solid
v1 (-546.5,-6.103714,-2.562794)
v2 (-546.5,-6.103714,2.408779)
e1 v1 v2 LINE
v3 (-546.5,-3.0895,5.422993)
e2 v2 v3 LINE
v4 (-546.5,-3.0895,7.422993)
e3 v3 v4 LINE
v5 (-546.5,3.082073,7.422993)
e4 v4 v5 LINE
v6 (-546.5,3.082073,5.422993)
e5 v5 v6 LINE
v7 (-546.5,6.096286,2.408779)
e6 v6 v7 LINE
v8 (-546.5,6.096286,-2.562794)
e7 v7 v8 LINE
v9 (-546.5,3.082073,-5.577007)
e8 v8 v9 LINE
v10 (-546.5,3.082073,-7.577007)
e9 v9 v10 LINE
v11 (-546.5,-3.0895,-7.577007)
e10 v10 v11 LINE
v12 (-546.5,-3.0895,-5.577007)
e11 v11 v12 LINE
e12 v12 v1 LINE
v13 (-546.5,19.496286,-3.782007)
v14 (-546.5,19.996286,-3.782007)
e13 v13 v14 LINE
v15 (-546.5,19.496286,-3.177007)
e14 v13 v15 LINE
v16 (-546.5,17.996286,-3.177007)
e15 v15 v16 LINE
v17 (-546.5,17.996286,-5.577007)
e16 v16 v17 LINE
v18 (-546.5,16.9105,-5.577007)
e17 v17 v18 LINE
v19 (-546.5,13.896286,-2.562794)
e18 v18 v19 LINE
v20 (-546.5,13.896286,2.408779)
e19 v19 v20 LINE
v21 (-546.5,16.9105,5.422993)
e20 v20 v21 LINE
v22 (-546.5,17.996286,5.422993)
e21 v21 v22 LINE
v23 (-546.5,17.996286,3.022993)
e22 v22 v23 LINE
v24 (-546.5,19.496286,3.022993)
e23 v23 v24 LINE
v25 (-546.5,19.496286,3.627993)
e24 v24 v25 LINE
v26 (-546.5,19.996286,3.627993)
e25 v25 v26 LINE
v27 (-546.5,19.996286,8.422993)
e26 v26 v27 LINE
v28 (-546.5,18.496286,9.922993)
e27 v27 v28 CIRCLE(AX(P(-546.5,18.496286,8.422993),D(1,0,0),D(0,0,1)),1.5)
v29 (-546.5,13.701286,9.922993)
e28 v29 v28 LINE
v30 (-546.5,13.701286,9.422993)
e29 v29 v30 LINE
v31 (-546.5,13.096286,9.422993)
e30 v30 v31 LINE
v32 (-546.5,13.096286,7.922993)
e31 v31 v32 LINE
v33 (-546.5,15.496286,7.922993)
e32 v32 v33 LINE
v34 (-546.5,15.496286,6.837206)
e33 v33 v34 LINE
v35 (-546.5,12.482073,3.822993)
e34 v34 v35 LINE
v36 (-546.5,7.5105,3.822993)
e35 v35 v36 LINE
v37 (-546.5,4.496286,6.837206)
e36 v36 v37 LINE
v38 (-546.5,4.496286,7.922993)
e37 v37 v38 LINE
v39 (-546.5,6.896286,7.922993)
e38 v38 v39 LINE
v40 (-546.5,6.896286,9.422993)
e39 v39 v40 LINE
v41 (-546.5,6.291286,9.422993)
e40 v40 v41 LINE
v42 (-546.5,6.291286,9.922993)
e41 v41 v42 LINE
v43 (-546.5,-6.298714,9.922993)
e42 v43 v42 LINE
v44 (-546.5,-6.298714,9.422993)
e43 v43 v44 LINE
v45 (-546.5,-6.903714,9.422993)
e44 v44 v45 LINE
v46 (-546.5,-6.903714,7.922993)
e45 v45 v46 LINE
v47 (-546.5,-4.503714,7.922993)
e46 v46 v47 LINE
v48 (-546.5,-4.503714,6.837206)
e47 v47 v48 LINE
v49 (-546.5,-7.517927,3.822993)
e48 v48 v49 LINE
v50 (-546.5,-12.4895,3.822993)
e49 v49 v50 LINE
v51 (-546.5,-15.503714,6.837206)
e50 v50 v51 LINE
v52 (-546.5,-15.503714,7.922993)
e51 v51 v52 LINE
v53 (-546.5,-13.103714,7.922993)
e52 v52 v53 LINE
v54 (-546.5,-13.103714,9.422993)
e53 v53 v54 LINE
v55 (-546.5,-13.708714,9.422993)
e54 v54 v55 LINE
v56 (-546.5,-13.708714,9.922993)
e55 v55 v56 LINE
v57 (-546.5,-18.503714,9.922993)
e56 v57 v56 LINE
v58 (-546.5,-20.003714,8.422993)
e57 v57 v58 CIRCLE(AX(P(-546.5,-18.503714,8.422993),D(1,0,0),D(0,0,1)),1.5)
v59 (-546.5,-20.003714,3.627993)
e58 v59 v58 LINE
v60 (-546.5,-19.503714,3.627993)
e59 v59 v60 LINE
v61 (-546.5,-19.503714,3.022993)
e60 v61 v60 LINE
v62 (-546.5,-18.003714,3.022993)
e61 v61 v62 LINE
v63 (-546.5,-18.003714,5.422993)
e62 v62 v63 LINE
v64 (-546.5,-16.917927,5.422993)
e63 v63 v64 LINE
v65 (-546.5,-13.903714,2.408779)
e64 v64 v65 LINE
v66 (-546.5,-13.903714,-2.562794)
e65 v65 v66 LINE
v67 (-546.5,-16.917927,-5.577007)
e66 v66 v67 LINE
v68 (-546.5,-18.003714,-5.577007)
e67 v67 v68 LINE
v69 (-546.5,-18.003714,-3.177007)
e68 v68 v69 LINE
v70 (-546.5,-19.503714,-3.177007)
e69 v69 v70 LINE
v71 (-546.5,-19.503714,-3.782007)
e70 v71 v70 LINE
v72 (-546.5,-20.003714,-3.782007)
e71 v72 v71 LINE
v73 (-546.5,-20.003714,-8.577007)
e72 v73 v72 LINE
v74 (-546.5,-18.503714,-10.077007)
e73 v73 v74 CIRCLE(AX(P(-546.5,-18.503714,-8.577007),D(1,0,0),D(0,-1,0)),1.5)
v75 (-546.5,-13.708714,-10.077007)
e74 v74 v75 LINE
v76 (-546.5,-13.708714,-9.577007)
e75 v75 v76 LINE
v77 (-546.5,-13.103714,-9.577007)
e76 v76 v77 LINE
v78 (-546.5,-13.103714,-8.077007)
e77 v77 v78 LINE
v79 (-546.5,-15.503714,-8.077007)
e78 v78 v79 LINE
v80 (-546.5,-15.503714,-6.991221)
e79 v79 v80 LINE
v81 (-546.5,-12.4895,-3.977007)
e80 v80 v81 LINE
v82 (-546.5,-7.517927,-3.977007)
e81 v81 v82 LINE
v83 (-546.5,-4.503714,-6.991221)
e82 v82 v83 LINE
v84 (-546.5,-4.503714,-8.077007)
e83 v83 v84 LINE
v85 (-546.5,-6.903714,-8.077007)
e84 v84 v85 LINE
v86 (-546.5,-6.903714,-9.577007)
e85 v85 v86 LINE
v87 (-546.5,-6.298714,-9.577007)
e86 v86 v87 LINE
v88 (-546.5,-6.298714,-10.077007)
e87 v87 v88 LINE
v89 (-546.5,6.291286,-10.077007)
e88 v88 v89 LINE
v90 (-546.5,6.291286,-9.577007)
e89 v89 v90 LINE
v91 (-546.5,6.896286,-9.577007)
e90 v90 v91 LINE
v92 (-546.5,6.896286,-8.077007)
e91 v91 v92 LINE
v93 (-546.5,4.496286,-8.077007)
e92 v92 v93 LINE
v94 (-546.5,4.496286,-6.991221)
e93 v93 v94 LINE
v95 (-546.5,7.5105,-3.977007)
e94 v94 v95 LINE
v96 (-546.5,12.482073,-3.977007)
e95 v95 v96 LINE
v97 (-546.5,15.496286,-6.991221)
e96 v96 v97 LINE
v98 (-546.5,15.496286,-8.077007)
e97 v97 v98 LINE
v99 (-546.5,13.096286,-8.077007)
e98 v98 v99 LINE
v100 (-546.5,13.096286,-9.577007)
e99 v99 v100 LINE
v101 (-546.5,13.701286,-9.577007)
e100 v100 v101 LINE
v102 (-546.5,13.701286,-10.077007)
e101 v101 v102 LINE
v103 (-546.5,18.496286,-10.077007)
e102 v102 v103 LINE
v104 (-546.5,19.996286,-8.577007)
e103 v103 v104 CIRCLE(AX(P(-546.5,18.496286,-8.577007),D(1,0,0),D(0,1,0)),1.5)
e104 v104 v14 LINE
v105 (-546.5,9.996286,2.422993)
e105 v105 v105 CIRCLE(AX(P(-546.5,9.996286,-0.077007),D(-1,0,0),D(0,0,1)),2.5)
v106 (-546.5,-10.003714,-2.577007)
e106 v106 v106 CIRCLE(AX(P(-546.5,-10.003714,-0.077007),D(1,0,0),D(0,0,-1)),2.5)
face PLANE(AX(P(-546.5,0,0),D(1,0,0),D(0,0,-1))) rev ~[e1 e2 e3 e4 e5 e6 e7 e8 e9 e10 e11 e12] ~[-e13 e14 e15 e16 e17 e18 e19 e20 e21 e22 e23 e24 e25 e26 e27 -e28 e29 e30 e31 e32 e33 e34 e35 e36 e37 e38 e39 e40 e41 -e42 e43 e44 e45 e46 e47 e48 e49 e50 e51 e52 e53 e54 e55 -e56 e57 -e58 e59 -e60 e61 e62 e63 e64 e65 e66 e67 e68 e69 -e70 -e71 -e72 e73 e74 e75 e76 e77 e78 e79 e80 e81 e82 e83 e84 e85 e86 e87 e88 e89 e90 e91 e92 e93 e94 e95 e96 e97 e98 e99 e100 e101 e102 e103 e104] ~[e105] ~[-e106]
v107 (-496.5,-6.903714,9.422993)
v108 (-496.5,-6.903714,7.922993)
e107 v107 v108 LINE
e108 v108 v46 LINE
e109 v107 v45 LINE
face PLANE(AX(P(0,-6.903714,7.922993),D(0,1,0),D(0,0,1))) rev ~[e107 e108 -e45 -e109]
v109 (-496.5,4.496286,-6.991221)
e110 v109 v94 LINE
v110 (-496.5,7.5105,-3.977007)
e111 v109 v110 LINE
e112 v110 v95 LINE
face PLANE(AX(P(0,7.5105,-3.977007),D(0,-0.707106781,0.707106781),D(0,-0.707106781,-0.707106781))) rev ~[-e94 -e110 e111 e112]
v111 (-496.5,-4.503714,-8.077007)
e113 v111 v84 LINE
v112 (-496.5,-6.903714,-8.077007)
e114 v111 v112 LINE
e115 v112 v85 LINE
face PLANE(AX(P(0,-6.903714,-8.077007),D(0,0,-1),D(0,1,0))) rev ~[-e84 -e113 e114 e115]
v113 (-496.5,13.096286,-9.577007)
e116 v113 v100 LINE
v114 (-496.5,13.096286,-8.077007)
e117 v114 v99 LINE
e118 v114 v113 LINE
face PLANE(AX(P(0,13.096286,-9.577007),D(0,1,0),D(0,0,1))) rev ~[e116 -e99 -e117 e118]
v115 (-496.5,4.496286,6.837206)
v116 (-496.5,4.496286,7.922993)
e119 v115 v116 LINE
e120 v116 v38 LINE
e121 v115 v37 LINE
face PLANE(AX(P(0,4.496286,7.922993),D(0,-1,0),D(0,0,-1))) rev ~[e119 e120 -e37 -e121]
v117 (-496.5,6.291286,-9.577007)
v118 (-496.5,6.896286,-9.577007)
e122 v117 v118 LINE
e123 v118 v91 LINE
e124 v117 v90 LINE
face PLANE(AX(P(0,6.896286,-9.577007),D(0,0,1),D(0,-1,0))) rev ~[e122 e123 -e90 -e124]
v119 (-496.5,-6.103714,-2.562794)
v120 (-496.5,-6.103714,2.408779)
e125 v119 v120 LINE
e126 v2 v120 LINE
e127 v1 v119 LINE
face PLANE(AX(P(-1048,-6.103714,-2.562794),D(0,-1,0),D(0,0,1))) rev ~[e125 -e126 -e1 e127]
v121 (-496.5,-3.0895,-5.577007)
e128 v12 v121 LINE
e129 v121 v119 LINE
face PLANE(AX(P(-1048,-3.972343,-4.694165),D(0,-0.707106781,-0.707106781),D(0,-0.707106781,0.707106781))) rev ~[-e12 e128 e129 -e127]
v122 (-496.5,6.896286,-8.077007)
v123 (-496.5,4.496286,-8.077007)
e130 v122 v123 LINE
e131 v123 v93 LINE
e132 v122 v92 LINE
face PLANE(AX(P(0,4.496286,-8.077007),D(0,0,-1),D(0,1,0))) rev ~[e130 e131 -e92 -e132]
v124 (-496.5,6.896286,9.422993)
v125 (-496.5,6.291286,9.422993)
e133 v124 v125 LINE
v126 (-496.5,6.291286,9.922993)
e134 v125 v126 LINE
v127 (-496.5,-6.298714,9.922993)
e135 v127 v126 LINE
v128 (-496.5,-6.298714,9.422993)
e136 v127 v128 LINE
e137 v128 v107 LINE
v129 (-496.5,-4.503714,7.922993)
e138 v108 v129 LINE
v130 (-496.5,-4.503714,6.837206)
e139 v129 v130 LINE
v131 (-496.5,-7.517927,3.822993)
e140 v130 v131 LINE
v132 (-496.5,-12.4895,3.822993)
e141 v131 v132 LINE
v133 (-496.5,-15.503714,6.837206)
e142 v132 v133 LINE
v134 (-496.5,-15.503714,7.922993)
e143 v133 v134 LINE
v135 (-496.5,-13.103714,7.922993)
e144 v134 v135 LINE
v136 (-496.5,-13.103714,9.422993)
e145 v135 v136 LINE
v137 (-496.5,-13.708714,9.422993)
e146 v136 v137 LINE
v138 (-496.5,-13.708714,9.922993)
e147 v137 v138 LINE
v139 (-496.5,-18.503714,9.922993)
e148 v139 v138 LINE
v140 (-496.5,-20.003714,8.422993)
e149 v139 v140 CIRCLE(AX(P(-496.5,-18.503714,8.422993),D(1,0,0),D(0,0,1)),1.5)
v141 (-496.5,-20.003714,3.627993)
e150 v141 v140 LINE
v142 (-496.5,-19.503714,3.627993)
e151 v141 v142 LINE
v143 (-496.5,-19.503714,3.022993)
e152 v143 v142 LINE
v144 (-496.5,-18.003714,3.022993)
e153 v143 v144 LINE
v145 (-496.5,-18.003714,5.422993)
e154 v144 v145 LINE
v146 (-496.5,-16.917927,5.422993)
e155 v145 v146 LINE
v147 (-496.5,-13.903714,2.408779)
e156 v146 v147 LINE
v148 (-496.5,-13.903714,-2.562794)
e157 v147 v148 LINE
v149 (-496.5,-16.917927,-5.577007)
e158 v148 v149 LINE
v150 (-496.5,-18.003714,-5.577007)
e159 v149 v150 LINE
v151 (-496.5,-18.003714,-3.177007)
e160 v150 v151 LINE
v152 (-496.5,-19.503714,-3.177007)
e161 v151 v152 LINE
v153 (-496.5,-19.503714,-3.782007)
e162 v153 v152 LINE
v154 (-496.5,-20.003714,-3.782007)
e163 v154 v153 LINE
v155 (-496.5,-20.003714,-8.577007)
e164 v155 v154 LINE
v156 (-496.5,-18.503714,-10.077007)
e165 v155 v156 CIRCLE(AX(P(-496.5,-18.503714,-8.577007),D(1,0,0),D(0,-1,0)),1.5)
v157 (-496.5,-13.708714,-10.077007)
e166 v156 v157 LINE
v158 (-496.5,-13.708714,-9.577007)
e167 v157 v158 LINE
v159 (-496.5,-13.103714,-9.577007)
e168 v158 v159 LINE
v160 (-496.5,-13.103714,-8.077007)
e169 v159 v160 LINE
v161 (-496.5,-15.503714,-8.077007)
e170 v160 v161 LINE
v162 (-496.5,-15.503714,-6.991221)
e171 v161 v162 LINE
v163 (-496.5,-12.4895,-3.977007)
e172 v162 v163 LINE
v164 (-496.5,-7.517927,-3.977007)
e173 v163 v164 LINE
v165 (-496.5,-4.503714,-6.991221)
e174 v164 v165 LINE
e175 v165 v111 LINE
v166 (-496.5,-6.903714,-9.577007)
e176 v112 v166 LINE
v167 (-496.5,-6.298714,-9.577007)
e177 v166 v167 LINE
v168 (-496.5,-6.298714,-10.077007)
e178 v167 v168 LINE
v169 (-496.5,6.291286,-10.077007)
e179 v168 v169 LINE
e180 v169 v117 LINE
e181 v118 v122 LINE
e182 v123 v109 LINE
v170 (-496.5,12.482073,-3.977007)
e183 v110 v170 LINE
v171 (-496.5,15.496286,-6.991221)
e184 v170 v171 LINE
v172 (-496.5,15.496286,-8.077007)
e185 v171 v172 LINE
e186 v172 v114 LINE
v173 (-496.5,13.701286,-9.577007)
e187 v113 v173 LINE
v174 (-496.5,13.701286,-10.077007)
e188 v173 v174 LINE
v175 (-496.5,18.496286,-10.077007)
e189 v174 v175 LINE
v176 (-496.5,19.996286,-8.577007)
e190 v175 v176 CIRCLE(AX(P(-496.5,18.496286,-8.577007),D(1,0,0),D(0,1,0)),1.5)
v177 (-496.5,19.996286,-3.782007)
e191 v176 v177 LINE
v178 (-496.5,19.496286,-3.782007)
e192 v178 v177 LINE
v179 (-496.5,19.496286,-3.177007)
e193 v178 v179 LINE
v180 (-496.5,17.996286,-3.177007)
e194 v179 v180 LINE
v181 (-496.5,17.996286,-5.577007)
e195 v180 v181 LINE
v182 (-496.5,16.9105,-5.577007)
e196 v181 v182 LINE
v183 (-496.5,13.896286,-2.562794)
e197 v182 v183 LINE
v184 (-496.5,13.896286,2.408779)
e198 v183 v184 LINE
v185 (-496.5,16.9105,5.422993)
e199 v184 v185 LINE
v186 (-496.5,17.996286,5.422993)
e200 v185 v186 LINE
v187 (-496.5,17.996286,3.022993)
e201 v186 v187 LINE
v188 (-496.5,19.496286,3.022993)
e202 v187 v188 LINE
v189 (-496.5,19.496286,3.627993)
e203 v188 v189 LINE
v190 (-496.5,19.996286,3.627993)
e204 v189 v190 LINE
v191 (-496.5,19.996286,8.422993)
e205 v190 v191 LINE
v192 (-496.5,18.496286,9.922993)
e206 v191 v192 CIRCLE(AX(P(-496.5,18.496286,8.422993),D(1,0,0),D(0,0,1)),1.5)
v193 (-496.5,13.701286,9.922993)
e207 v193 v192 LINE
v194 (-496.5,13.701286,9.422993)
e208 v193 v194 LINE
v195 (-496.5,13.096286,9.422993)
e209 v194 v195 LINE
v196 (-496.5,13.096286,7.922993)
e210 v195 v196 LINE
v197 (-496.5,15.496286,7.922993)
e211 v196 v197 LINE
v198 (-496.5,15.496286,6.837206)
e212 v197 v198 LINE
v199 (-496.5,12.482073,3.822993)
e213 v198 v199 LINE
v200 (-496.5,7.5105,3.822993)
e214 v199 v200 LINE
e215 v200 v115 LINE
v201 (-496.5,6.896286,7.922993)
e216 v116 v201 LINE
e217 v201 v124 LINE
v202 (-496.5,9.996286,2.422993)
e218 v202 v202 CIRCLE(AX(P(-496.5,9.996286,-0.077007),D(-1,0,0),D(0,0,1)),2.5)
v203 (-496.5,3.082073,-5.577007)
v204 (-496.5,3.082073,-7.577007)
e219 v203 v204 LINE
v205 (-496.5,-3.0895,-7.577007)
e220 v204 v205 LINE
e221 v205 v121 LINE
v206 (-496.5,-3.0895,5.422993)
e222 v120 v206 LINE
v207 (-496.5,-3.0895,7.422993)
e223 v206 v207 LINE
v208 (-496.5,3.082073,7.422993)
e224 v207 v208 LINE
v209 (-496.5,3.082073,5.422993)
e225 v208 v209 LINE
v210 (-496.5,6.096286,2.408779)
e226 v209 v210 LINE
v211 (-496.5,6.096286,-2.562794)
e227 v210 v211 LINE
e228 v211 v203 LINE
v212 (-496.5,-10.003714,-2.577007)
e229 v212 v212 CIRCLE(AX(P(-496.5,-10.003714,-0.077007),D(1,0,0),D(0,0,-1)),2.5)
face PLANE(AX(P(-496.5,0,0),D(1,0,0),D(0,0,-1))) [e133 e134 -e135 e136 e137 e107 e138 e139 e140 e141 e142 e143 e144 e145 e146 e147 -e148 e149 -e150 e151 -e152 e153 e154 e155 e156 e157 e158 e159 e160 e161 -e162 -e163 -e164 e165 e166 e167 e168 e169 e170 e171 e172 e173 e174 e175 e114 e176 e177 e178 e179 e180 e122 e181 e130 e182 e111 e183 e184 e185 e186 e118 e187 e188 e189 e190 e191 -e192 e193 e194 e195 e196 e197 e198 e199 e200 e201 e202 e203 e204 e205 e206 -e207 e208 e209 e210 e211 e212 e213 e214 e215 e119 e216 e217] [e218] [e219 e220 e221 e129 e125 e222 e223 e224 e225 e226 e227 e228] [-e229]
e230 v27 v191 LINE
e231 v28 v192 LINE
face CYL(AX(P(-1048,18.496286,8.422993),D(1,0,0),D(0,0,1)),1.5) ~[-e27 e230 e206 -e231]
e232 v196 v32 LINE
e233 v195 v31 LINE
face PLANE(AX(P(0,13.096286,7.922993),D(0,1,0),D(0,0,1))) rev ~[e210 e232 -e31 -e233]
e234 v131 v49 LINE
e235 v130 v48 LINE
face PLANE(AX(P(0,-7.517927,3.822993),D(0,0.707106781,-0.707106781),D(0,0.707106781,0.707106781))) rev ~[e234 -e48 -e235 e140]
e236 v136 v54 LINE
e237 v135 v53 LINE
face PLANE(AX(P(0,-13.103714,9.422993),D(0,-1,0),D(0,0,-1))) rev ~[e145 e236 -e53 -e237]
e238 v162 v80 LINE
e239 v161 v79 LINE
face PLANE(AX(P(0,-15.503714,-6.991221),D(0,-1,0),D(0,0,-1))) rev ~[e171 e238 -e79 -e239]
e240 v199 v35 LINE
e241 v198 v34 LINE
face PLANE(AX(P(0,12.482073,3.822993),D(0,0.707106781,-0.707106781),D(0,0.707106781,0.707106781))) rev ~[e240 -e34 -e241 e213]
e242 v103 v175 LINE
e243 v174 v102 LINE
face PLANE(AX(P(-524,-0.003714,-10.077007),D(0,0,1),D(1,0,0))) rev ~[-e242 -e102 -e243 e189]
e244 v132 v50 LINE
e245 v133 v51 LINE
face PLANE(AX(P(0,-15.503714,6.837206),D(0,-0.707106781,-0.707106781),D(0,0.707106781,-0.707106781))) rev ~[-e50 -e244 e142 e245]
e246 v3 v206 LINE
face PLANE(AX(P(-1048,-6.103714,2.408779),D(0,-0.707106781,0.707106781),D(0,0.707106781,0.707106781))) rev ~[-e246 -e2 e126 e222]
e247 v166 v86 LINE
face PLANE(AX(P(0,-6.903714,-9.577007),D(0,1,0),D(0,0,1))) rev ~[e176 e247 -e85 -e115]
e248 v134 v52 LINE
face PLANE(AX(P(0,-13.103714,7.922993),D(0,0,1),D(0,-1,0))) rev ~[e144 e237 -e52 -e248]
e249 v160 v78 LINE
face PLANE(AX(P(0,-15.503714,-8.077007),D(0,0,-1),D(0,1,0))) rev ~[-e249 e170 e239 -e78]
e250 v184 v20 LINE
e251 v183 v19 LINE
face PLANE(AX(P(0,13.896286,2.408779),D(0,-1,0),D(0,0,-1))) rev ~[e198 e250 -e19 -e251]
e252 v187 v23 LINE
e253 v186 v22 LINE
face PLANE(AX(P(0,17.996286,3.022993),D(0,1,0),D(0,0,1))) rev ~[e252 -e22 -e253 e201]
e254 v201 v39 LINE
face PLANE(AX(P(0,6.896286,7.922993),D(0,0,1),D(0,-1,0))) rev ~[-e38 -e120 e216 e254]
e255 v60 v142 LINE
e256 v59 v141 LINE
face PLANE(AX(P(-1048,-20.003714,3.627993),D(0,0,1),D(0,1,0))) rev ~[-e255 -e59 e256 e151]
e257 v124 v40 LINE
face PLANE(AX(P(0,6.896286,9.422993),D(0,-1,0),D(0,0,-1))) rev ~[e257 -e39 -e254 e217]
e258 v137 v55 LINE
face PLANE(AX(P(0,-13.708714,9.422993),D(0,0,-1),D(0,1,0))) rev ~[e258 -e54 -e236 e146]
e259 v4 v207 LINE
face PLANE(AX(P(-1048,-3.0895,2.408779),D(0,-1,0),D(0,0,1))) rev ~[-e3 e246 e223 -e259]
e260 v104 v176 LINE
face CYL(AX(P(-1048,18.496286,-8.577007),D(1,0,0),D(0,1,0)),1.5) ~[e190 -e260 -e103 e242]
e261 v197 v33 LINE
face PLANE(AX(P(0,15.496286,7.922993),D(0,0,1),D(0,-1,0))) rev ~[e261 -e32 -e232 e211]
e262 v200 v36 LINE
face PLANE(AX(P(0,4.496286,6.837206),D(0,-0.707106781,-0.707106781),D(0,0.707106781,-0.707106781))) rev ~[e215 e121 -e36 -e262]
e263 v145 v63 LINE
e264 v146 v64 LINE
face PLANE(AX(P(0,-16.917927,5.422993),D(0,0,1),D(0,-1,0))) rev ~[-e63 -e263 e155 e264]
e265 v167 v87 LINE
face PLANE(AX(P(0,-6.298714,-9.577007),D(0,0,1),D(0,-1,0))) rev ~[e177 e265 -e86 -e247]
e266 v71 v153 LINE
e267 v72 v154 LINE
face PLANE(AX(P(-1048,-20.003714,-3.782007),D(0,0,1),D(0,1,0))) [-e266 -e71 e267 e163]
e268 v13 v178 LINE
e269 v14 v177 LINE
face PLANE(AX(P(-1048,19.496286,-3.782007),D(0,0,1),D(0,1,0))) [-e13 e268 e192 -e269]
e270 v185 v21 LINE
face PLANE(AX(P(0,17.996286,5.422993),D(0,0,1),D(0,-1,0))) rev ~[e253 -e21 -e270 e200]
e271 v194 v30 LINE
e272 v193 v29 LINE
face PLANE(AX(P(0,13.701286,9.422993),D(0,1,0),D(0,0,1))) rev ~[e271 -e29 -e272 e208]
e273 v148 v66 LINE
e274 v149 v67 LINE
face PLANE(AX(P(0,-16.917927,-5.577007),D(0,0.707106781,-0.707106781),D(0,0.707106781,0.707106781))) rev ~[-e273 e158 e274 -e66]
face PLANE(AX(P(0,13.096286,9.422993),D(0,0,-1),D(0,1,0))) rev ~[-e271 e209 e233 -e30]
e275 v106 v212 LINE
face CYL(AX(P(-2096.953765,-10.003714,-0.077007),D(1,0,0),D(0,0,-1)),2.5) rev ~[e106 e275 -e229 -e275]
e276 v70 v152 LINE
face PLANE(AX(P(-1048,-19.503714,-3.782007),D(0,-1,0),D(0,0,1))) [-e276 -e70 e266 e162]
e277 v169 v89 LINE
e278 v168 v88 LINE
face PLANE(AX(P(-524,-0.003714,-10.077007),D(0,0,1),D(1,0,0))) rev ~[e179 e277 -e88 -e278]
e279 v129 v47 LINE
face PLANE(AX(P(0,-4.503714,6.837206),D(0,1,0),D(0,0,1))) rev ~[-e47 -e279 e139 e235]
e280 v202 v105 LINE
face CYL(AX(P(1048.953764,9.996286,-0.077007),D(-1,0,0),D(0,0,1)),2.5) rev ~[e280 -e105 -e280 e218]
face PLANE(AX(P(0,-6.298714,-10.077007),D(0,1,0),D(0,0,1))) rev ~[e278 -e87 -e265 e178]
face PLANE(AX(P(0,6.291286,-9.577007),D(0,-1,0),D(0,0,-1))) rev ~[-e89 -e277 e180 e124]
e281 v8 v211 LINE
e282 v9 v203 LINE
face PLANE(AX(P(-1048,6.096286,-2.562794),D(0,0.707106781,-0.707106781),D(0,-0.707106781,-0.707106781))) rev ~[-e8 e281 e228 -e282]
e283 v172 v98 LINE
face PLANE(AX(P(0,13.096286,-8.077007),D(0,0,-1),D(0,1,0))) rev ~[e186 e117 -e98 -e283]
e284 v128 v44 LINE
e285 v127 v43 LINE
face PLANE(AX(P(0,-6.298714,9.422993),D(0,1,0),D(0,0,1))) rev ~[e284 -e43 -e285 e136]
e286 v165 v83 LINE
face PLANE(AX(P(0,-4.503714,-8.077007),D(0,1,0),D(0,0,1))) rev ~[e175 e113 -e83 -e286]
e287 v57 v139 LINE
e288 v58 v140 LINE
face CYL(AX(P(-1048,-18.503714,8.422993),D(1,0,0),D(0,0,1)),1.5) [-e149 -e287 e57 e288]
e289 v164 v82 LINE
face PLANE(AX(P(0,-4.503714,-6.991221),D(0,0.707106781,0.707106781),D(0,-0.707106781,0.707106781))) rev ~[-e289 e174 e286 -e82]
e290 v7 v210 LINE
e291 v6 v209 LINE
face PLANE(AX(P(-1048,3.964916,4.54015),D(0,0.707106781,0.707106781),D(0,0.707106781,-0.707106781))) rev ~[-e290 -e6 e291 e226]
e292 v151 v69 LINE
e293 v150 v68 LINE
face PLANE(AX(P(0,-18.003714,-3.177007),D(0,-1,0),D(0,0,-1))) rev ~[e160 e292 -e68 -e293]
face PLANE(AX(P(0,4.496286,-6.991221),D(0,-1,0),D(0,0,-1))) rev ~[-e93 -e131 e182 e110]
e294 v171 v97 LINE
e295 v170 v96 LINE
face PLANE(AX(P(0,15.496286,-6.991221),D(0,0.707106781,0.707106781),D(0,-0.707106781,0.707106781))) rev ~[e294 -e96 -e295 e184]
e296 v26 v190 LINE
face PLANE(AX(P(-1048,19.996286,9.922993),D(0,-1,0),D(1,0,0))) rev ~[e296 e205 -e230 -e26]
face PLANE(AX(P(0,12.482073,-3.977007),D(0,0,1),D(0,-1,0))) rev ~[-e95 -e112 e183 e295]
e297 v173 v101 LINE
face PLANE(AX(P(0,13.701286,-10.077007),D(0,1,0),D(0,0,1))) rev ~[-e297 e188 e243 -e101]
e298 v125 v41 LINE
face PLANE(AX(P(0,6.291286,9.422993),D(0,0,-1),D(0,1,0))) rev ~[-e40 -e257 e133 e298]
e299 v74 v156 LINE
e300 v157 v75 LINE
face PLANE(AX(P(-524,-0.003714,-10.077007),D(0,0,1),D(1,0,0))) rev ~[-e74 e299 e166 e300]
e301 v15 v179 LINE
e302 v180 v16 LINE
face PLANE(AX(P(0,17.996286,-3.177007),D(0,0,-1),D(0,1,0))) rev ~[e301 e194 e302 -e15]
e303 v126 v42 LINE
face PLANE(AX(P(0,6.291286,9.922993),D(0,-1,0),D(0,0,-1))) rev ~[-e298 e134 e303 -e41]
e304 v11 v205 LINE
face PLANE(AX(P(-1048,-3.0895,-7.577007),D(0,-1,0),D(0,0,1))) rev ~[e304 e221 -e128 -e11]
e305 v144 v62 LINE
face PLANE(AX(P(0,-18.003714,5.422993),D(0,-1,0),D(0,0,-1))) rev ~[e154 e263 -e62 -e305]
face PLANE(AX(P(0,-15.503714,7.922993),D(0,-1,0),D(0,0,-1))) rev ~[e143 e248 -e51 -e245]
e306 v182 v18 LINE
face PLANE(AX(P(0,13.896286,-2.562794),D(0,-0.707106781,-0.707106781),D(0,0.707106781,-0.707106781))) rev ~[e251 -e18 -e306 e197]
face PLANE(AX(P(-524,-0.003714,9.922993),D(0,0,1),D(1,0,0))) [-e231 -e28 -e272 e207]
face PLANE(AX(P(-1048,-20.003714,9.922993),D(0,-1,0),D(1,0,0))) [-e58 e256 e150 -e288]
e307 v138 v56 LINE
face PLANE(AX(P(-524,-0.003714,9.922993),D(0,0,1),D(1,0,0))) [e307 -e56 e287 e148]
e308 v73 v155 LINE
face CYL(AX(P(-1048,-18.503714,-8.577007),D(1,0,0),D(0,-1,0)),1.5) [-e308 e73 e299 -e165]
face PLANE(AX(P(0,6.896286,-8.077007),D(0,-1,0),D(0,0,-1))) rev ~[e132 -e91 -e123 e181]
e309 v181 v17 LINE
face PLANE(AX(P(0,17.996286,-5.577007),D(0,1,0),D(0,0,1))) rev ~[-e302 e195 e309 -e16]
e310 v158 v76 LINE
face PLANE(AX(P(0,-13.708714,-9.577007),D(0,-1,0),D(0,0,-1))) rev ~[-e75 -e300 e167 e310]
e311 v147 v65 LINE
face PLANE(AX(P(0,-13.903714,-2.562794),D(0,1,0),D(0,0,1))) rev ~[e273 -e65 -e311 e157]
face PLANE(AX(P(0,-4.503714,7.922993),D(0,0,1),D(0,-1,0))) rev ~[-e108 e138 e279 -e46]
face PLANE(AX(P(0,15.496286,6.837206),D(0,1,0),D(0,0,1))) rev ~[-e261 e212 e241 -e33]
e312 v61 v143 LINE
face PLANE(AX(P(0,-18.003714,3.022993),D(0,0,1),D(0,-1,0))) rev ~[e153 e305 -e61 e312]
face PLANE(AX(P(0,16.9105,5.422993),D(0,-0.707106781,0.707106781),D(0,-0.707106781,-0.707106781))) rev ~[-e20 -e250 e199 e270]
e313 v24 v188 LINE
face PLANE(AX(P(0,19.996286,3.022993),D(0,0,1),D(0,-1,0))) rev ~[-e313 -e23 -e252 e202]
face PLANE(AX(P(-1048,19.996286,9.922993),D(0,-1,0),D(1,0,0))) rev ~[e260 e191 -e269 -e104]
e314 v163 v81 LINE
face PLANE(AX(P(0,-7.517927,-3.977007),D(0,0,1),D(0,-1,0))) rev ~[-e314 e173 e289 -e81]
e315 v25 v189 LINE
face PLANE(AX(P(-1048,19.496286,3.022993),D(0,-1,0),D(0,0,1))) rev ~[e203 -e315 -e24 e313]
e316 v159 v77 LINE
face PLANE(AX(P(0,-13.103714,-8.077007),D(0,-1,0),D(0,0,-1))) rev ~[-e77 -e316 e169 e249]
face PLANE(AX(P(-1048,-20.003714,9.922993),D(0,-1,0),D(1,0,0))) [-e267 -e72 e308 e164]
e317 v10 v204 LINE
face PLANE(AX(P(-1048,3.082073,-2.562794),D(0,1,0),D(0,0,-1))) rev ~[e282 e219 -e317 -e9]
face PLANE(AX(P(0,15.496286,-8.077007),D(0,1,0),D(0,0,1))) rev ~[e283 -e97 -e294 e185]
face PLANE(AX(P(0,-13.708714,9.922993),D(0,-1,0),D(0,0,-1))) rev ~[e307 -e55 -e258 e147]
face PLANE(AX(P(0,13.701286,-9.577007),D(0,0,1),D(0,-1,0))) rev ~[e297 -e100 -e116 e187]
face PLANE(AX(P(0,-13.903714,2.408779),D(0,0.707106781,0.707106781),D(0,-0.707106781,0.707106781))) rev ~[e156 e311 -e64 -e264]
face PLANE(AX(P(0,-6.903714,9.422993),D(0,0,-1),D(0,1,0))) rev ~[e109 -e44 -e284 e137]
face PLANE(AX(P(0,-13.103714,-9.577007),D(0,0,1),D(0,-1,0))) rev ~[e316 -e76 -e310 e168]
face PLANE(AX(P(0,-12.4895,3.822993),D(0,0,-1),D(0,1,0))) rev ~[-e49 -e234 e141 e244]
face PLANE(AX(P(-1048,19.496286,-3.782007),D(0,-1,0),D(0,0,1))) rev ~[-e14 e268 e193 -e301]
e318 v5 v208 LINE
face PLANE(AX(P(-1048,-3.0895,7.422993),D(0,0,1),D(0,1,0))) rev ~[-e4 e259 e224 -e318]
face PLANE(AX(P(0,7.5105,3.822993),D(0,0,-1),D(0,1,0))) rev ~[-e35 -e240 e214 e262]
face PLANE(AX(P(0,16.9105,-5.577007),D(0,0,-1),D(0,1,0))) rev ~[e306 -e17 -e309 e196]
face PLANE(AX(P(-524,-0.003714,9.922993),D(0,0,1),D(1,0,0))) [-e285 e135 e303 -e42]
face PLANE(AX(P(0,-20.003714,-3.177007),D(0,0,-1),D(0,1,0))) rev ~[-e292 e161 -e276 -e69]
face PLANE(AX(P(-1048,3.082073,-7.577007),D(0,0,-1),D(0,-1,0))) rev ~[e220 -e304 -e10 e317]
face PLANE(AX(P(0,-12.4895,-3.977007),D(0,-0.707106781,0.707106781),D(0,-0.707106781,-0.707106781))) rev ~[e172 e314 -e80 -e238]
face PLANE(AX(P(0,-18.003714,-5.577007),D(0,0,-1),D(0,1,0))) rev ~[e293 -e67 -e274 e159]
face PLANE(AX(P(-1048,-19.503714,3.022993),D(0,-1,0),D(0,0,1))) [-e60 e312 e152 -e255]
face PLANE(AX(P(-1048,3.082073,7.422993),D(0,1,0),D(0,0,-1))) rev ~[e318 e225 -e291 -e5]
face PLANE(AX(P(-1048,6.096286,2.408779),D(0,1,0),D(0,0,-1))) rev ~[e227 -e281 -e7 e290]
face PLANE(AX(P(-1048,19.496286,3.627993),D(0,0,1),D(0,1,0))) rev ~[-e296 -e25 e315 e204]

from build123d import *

# Parameters (mm, degrees)
SKETCH_1_W                = 1048
SKETCH_1_H                = 40
EXTRUDE_1_DEPTH           = 20
CUT_EXTRUDE_1_DEPTH       = 1049.239330799
CUT_EXTRUDE_2_REACH       = 1050.811
CUT_EXTRUDE_3_REACH       = 1050.239
CUT_EXTRUDE_3_END_RADIUS  = 5
SKETCH_4_W                = 0.605
SKETCH_4_H                = 0.5
CUT_EXTRUDE_4_DEPTH       = 1049.239330799
CUT_EXTRUDE_5_DEPTH       = 1049.737119623
CUT_EXTRUDE_6_REACH       = 1050.239
CUT_EXTRUDE_6_END_RADIUS  = 5
SKETCH_7_W                = 0.605
SKETCH_7_H                = 0.5
CUT_EXTRUDE_7_REACH       = 1050.811
CUT_EXTRUDE_8_REACH       = 1050.239
CUT_EXTRUDE_8_END_RADIUS  = 5
SKETCH_9_W                = 0.605
SKETCH_9_H                = 0.5
CUT_EXTRUDE_9_REACH       = 1050.239
CUT_EXTRUDE_9_END_RADIUS  = 5
SKETCH_10_W               = 0.605
SKETCH_10_H               = 0.5
CUT_EXTRUDE_10_DEPTH      = 1049.737119623
CUT_EXTRUDE_11_REACH      = 1050.239
CUT_EXTRUDE_11_END_RADIUS = 5
SKETCH_12_W               = 0.605
SKETCH_12_H               = 0.5
CUT_EXTRUDE_12_DEPTH      = 1049.239330799
CUT_EXTRUDE_13_DEPTH      = 1049.239330799
CUT_EXTRUDE_14_REACH      = 1050.239
CUT_EXTRUDE_14_END_RADIUS = 5
SKETCH_15_W               = 0.605
SKETCH_15_H               = 0.5
CUT_EXTRUDE_15_REACH      = 1050.239
CUT_EXTRUDE_15_END_RADIUS = 5
SKETCH_16_W               = 0.605
SKETCH_16_H               = 0.5
CUT_EXTRUDE_16_DEPTH      = 1049.239330799
CUT_EXTRUDE_17_DEPTH      = 1049.239330799
CUT_EXTRUDE_18_REACH      = 1050.239
CUT_EXTRUDE_18_END_RADIUS = 5
SKETCH_19_W               = 0.605
SKETCH_19_H               = 0.5
CUT_EXTRUDE_19_DEPTH      = 1049.239330799
DRAFT_1_ANGLE             = 45
DRAFT_2_ANGLE             = 45
SKETCH_21_W               = 5
SKETCH_21_H               = 5.49122085
SKETCH_22_W               = 5
SKETCH_22_H               = 5.49864809
HOLE_WIZARD_5_0_5_1_D     = 4.999999999
HOLE_WIZARD_5_0_5_2_D     = 4.999999999
FILLET_1_R                = 1.5
SKETCH_27_W               = 25
SKETCH_27_H               = 45
CUT_EXTRUDE_21_DEPTH      = 496.5
CUT_EXTRUDE_START         = -1048
SKETCH_28_W               = 25
SKETCH_28_H               = 45
CUT_EXTRUDE_22_DEPTH      = 501.5


with BuildPart() as part:
    # 草图1 → 凸台-拉伸1 (new body)
    with BuildSketch(Plane.XY.offset(9.92299271)):
        with Locations((-524, -0.00371362)):
            Rectangle(SKETCH_1_W, SKETCH_1_H)
    extrude(amount=-EXTRUDE_1_DEPTH)

    # 草图2 → 切除-拉伸1 (cut, through all)
    with BuildSketch(Plane(origin=(0, 0, 0), x_dir=(0, 0, -1), z_dir=(1, 0, 0))):
        Polygon((-3.02299271, 19.99628638), (-3.02299271, 17.99628638), (-5.42299271, 17.99628638), (-5.42299271, 16.91049994), (-2.40877915, 13.89628638), (2.56279373, 13.89628638), (5.57700729, 16.91049994), (5.57700729, 17.99628638), (3.17700729, 17.99628638), (3.17700729, 19.99628638), align=None)
    extrude(amount=-CUT_EXTRUDE_1_DEPTH, mode=Mode.SUBTRACT)

    # 草图3 → 切除-拉伸2 (cut, up to next)
    with BuildSketch(Plane(origin=(0, 19.99628638, 0), x_dir=(-1, 0, 0), z_dir=(0, 1, 0)), mode=Mode.PRIVATE) as cut_extrude_2_sk1:
        with BuildLine():
            Line((9.017348236, 3.02299271), (16.982651764, 3.02299271))
            ThreePointArc((16.982651764, 3.02299271), (13, 5), (9.017348236, 3.02299271))
        make_face()
    cut_extrude_2_tool1 = extrude(cut_extrude_2_sk1.sketch, amount=-CUT_EXTRUDE_2_REACH, mode=Mode.PRIVATE) & part.part
    add(cut_extrude_2_tool1.solids().sort_by_distance((-13, 19.996286, 3.828944))[0], mode=Mode.SUBTRACT)

    # 切除-拉伸3: up to this cylinder (the profile starts outside it)
    cut_extrude_3_end = Plane(origin=(-13, 19.746286, 0), z_dir=(0, 1, 0)) * Cylinder(CUT_EXTRUDE_3_END_RADIUS, 2111.478, mode=Mode.PRIVATE)
    # 草图4 → 切除-拉伸3 (cut, up to the surface)
    with BuildSketch(Plane.ZY.offset(1048), mode=Mode.PRIVATE) as cut_extrude_3_sk1:
        with Locations((3.32549271, 19.74628638)):
            Rectangle(SKETCH_4_W, SKETCH_4_H)
    cut_extrude_3_tool1 = extrude(cut_extrude_3_sk1.sketch, amount=-CUT_EXTRUDE_3_REACH, mode=Mode.PRIVATE) - cut_extrude_3_end
    add(cut_extrude_3_tool1.solids().sort_by_distance((-1048, 19.746286, 3.325493))[0], mode=Mode.SUBTRACT)

    # 草图5 → 切除-拉伸4 (cut, through all)
    with BuildSketch(Plane(origin=(0, 0, 0), x_dir=(0, 0, -1), z_dir=(1, 0, 0))):
        Polygon((-3.02299271, -20.00371362), (3.17700729, -20.00371362), (3.17700729, -18.00371362), (5.57700729, -18.00371362), (5.57700729, -16.91792718), (2.56279373, -13.90371362), (-2.40877915, -13.90371362), (-5.42299271, -16.91792718), (-5.42299271, -18.00371362), (-3.02299271, -18.00371362), align=None)
    extrude(amount=-CUT_EXTRUDE_4_DEPTH, mode=Mode.SUBTRACT)

    # 草图6 → 切除-拉伸5 (cut, through all)
    with BuildSketch(Plane(origin=(0, -18.00371362, 0), x_dir=(-1, 0, 0), z_dir=(0, 1, 0))):
        with BuildLine():
            Line((9.017348236, 3.02299271), (16.982651764, 3.02299271))
            ThreePointArc((16.982651764, 3.02299271), (13, 5), (9.017348236, 3.02299271))
        make_face()
    extrude(amount=-CUT_EXTRUDE_5_DEPTH, mode=Mode.SUBTRACT)

    # 切除-拉伸6: up to this cylinder (the profile starts outside it)
    cut_extrude_6_end = Plane(origin=(-13, -19.753714, 0), z_dir=(0, 1, 0)) * Cylinder(CUT_EXTRUDE_6_END_RADIUS, 2111.478, mode=Mode.PRIVATE)
    # 草图7 → 切除-拉伸6 (cut, up to the surface)
    with BuildSketch(Plane.ZY.offset(1048), mode=Mode.PRIVATE) as cut_extrude_6_sk1:
        with Locations((3.32549271, -19.75371362)):
            Rectangle(SKETCH_7_W, SKETCH_7_H)
    cut_extrude_6_tool1 = extrude(cut_extrude_6_sk1.sketch, amount=-CUT_EXTRUDE_6_REACH, mode=Mode.PRIVATE) - cut_extrude_6_end
    add(cut_extrude_6_tool1.solids().sort_by_distance((-1048, -19.753714, 3.325493))[0], mode=Mode.SUBTRACT)

    # 草图8 → 切除-拉伸7 (cut, up to next)
    with BuildSketch(Plane.XZ.offset(20.00371362), mode=Mode.PRIVATE) as cut_extrude_7_sk1:
        with BuildLine():
            Line((-9.139090175, -3.17700729), (-16.860909825, -3.17700729))
            ThreePointArc((-16.860909825, -3.17700729), (-13, -5), (-9.139090175, -3.17700729))
        make_face()
    cut_extrude_7_tool1 = extrude(cut_extrude_7_sk1.sketch, amount=-CUT_EXTRUDE_7_REACH, mode=Mode.PRIVATE) & part.part
    add(cut_extrude_7_tool1.solids().sort_by_distance((-13, -20.003714, -3.918953))[0], mode=Mode.SUBTRACT)

    # 切除-拉伸8: up to this cylinder (the profile starts outside it)
    cut_extrude_8_end = Plane(origin=(-13, -19.753714, 0), z_dir=(0, -1, 0)) * Cylinder(CUT_EXTRUDE_8_END_RADIUS, 2111.478, mode=Mode.PRIVATE)
    # 草图9 → 切除-拉伸8 (cut, up to the surface)
    with BuildSketch(Plane.ZY.offset(1048), mode=Mode.PRIVATE) as cut_extrude_8_sk1:
        with Locations((-3.47950729, -19.75371362)):
            Rectangle(SKETCH_9_W, SKETCH_9_H)
    cut_extrude_8_tool1 = extrude(cut_extrude_8_sk1.sketch, amount=-CUT_EXTRUDE_8_REACH, mode=Mode.PRIVATE) - cut_extrude_8_end
    add(cut_extrude_8_tool1.solids().sort_by_distance((-1048, -19.753714, -3.479507))[0], mode=Mode.SUBTRACT)

    # 切除-拉伸9: up to this cylinder (the profile starts outside it)
    cut_extrude_9_end = Plane(origin=(-13, 19.746286, 0), z_dir=(0, 1, 0)) * Cylinder(CUT_EXTRUDE_9_END_RADIUS, 2111.478, mode=Mode.PRIVATE)
    # 草图10 → 切除-拉伸9 (cut, up to the surface)
    with BuildSketch(Plane(origin=(0, 0, 0), x_dir=(0, 0, -1), z_dir=(1, 0, 0)), mode=Mode.PRIVATE) as cut_extrude_9_sk1:
        with Locations((-3.32549271, 19.74628638)):
            Rectangle(SKETCH_10_W, SKETCH_10_H)
    cut_extrude_9_tool1 = extrude(cut_extrude_9_sk1.sketch, amount=-CUT_EXTRUDE_9_REACH, mode=Mode.PRIVATE) - cut_extrude_9_end
    add(cut_extrude_9_tool1.solids().sort_by_distance((0, 19.746286, 3.325493))[0], mode=Mode.SUBTRACT)

    # 草图11 → 切除-拉伸10 (cut, through all)
    with BuildSketch(Plane.XZ.offset(-17.99628638)):
        with BuildLine():
            Line((-9.139090175, -3.17700729), (-16.860909825, -3.17700729))
            ThreePointArc((-16.860909825, -3.17700729), (-13, -5), (-9.139090175, -3.17700729))
        make_face()
    extrude(amount=-CUT_EXTRUDE_10_DEPTH, mode=Mode.SUBTRACT)

    # 切除-拉伸11: up to this cylinder (the profile starts outside it)
    cut_extrude_11_end = Plane(origin=(-13, 19.746286, 0), z_dir=(0, -1, 0)) * Cylinder(CUT_EXTRUDE_11_END_RADIUS, 2111.478, mode=Mode.PRIVATE)
    # 草图12 → 切除-拉伸11 (cut, up to the surface)
    with BuildSketch(Plane(origin=(0, 0, 0), x_dir=(0, 0, -1), z_dir=(1, 0, 0)), mode=Mode.PRIVATE) as cut_extrude_11_sk1:
        with Locations((3.47950729, 19.74628638)):
            Rectangle(SKETCH_12_W, SKETCH_12_H)
    cut_extrude_11_tool1 = extrude(cut_extrude_11_sk1.sketch, amount=-CUT_EXTRUDE_11_REACH, mode=Mode.PRIVATE) - cut_extrude_11_end
    add(cut_extrude_11_tool1.solids().sort_by_distance((0, 19.746286, -3.479507))[0], mode=Mode.SUBTRACT)

    # 草图13 → 切除-拉伸12 (cut, through all)
    with BuildSketch(Plane(origin=(0, 0, 0), x_dir=(0, 0, -1), z_dir=(1, 0, 0))):
        Polygon((10.07700729, 13.70128638), (9.57700729, 13.70128638), (9.57700729, 13.09628638), (8.07700729, 13.09628638), (8.07700729, 15.49628638), (6.99122085, 15.49628638), (3.97700729, 12.48207282), (3.97700729, 7.51049994), (6.99122085, 4.49628638), (8.07700729, 4.49628638), (8.07700729, 6.89628638), (9.57700729, 6.89628638), (9.57700729, 6.29128638), (10.07700729, 6.29128638), align=None)
    extrude(amount=-CUT_EXTRUDE_12_DEPTH, mode=Mode.SUBTRACT)

    # 草图14 → 切除-拉伸13 (cut, through all)
    with BuildSketch(Plane(origin=(0, 0, 0), x_dir=(0, 0, -1), z_dir=(1, 0, 0))):
        Polygon((10.07700729, -6.29871362), (9.57700729, -6.29871362), (9.57700729, -6.90371362), (8.07700729, -6.90371362), (8.07700729, -4.50371362), (6.99122085, -4.50371362), (3.97700729, -7.51792718), (3.97700729, -12.48950006), (6.99122085, -15.50371362), (8.07700729, -15.50371362), (8.07700729, -13.10371362), (9.57700729, -13.10371362), (9.57700729, -13.70871362), (10.07700729, -13.70871362), align=None)
    extrude(amount=-CUT_EXTRUDE_13_DEPTH, mode=Mode.SUBTRACT)

    # 切除-拉伸14: up to this cylinder (the profile starts outside it)
    cut_extrude_14_end = Plane(origin=(-13, -19.753714, 0), z_dir=(0, -1, 0)) * Cylinder(CUT_EXTRUDE_14_END_RADIUS, 2111.478, mode=Mode.PRIVATE)
    # 草图15 → 切除-拉伸14 (cut, up to the surface)
    with BuildSketch(Plane(origin=(0, 0, 0), x_dir=(0, 0, -1), z_dir=(1, 0, 0)), mode=Mode.PRIVATE) as cut_extrude_14_sk1:
        with Locations((3.47950729, -19.75371362)):
            Rectangle(SKETCH_15_W, SKETCH_15_H)
    cut_extrude_14_tool1 = extrude(cut_extrude_14_sk1.sketch, amount=-CUT_EXTRUDE_14_REACH, mode=Mode.PRIVATE) - cut_extrude_14_end
    add(cut_extrude_14_tool1.solids().sort_by_distance((0, -19.753714, -3.479507))[0], mode=Mode.SUBTRACT)

    # 切除-拉伸15: up to this cylinder (the profile starts outside it)
    cut_extrude_15_end = Plane(origin=(-13, -19.753714, 0), z_dir=(0, 1, 0)) * Cylinder(CUT_EXTRUDE_15_END_RADIUS, 2111.478, mode=Mode.PRIVATE)
    # 草图16 → 切除-拉伸15 (cut, up to the surface)
    with BuildSketch(Plane(origin=(0, 0, 0), x_dir=(0, 0, -1), z_dir=(1, 0, 0)), mode=Mode.PRIVATE) as cut_extrude_15_sk1:
        with Locations((-3.32549271, -19.75371362)):
            Rectangle(SKETCH_16_W, SKETCH_16_H)
    cut_extrude_15_tool1 = extrude(cut_extrude_15_sk1.sketch, amount=-CUT_EXTRUDE_15_REACH, mode=Mode.PRIVATE) - cut_extrude_15_end
    add(cut_extrude_15_tool1.solids().sort_by_distance((0, -19.753714, 3.325493))[0], mode=Mode.SUBTRACT)

    # 草图17 → 切除-拉伸16 (cut, through all)
    with BuildSketch(Plane(origin=(0, 0, 0), x_dir=(0, 0, -1), z_dir=(1, 0, 0))):
        Polygon((-9.92299271, -13.70871362), (-9.42299271, -13.70871362), (-9.42299271, -13.10371362), (-7.92299271, -13.10371362), (-7.92299271, -15.50371362), (-6.83720627, -15.50371362), (-3.82299271, -12.48950006), (-3.82299271, -7.51792718), (-6.83720627, -4.50371362), (-7.92299271, -4.50371362), (-7.92299271, -6.90371362), (-9.42299271, -6.90371362), (-9.42299271, -6.29871362), (-9.92299271, -6.29871362), align=None)
    extrude(amount=-CUT_EXTRUDE_16_DEPTH, mode=Mode.SUBTRACT)

    # 草图18 → 切除-拉伸17 (cut, through all)
    with BuildSketch(Plane(origin=(0, 0, 0), x_dir=(0, 0, -1), z_dir=(1, 0, 0))):
        Polygon((-9.92299271, 6.29128638), (-9.42299271, 6.29128638), (-9.42299271, 6.89628638), (-7.92299271, 6.89628638), (-7.92299271, 4.49628638), (-6.83720627, 4.49628638), (-3.82299271, 7.51049994), (-3.82299271, 12.48207282), (-6.83720627, 15.49628638), (-7.92299271, 15.49628638), (-7.92299271, 13.09628638), (-9.42299271, 13.09628638), (-9.42299271, 13.70128638), (-9.92299271, 13.70128638), align=None)
    extrude(amount=-CUT_EXTRUDE_17_DEPTH, mode=Mode.SUBTRACT)

    # 切除-拉伸18: up to this cylinder (the profile starts outside it)
    cut_extrude_18_end = Plane(origin=(-13, 19.746286, 0), z_dir=(0, -1, 0)) * Cylinder(CUT_EXTRUDE_18_END_RADIUS, 2111.478, mode=Mode.PRIVATE)
    # 草图19 → 切除-拉伸18 (cut, up to the surface)
    with BuildSketch(Plane.ZY.offset(1048), mode=Mode.PRIVATE) as cut_extrude_18_sk1:
        with Locations((-3.47950729, 19.74628638)):
            Rectangle(SKETCH_19_W, SKETCH_19_H)
    cut_extrude_18_tool1 = extrude(cut_extrude_18_sk1.sketch, amount=-CUT_EXTRUDE_18_REACH, mode=Mode.PRIVATE) - cut_extrude_18_end
    add(cut_extrude_18_tool1.solids().sort_by_distance((-1048, 19.746286, -3.479507))[0], mode=Mode.SUBTRACT)

    # 草图20 → 切除-拉伸19 (cut, through all)
    with BuildSketch(Plane.ZY.offset(1048)):
        Polygon((2.40877915, -3.08950006), (7.42299271, -3.08950006), (7.42299271, 3.08207282), (2.40877915, 3.08207282), (2.40877915, 6.09628638), (-2.56279373, 6.09628638), (-2.56279373, 3.08207282), (-7.57700729, 3.08207282), (-7.57700729, -3.08950006), (-2.56279373, -3.08950006), (-2.56279373, -6.10371362), (2.40877915, -6.10371362), align=None)
    extrude(amount=-CUT_EXTRUDE_19_DEPTH, mode=Mode.SUBTRACT)

    # 拔模1
    draft_1_faces = [part.faces().sort_by_distance(p)[0] for p in [
        (-524, -4.59660684, 2.40877915),
        (-524, -4.59660684, -2.56279373),
    ]]
    draft(draft_1_faces, Plane(origin=(0, -6.10371362, -2.56279373), x_dir=(0, 0, 1), z_dir=(0, 1, 0)), DRAFT_1_ANGLE)

    # 拔模2
    draft_2_faces = [part.faces().sort_by_distance(p)[0] for p in [
        (-524, 4.5891796, -2.56279373),
        (-524, 4.5891796, 2.40877915),
    ]]
    draft(draft_2_faces, Plane(origin=(0, 6.09628638, 2.40877915), x_dir=(0, 0, -1), z_dir=(0, -1, 0)), DRAFT_2_ANGLE)

    # 草图21 → 切除-旋转1 (revolve, cut)
    with BuildSketch(Plane(origin=(0, 0, 0), x_dir=(-1, 0, 0), z_dir=(0, 0, -1)), mode=Mode.PRIVATE) as cut_revolve_1_sk:
        with Locations((10.5, 13.741896805)):
            Rectangle(SKETCH_21_W, SKETCH_21_H)
    revolve(cut_revolve_1_sk.sketch.rotate(Axis((-13, 10.99628638, 0), (0, 1, 0)), 229.871289748), axis=Axis((-13, 10.99628638, 0), (0, 1, 0)), mode=Mode.SUBTRACT)

    # 草图22 → 切除-旋转2 (revolve, cut)
    with BuildSketch(Plane.XY, mode=Mode.PRIVATE) as cut_revolve_2_sk:
        with Locations((-10.5, -13.745610425)):
            Rectangle(SKETCH_22_W, SKETCH_22_H)
    revolve(cut_revolve_2_sk.sketch.rotate(Axis((-13, -10.99628638, 0), (0, -1, 0)), 232.693190821), axis=Axis((-13, -10.99628638, 0), (0, -1, 0)), mode=Mode.SUBTRACT)

    # Ø5.0 (5) 直径孔1 (through all)
    with Locations(Plane(origin=(0, 0, 0), x_dir=(0, 0, -1), z_dir=(1, 0, 0))):
        with Locations((0.07700729, 9.99628638)):
            Hole(HOLE_WIZARD_5_0_5_1_D / 2)

    # Ø5.0 (5) 直径孔2 (through all)
    with Locations(Plane.ZY.offset(1048)):
        with Locations((-0.07700729, -10.00371362)):
            Hole(HOLE_WIZARD_5_0_5_2_D / 2)

    # 圆角1
    fillet_1_edges = [part.edges().sort_by_distance(p)[0] for p in [
        (-524, -20.00371362, -10.07700729),
        (-524, 19.99628638, -10.07700729),
        (-524, -20.00371362, 9.92299271),
        (-524, 19.99628638, 9.92299271),
    ]]
    fillet(fillet_1_edges, radius=FILLET_1_R)

    # 草图27 → 切除-拉伸21 (cut)
    with BuildSketch(Plane(origin=(0, 0, 0), x_dir=(0, 0, -1), z_dir=(1, 0, 0))):
        Rectangle(SKETCH_27_W, SKETCH_27_H)
    extrude(amount=-CUT_EXTRUDE_21_DEPTH, mode=Mode.SUBTRACT)

    # 草图28 → 切除-拉伸22 (cut)
    with BuildSketch(Plane(origin=(0, 0, 0), x_dir=(0, 0, -1), z_dir=(1, 0, 0)).offset(CUT_EXTRUDE_START)):
        Rectangle(SKETCH_28_W, SKETCH_28_H)
    extrude(amount=CUT_EXTRUDE_22_DEPTH, mode=Mode.SUBTRACT)


solid = part.part
